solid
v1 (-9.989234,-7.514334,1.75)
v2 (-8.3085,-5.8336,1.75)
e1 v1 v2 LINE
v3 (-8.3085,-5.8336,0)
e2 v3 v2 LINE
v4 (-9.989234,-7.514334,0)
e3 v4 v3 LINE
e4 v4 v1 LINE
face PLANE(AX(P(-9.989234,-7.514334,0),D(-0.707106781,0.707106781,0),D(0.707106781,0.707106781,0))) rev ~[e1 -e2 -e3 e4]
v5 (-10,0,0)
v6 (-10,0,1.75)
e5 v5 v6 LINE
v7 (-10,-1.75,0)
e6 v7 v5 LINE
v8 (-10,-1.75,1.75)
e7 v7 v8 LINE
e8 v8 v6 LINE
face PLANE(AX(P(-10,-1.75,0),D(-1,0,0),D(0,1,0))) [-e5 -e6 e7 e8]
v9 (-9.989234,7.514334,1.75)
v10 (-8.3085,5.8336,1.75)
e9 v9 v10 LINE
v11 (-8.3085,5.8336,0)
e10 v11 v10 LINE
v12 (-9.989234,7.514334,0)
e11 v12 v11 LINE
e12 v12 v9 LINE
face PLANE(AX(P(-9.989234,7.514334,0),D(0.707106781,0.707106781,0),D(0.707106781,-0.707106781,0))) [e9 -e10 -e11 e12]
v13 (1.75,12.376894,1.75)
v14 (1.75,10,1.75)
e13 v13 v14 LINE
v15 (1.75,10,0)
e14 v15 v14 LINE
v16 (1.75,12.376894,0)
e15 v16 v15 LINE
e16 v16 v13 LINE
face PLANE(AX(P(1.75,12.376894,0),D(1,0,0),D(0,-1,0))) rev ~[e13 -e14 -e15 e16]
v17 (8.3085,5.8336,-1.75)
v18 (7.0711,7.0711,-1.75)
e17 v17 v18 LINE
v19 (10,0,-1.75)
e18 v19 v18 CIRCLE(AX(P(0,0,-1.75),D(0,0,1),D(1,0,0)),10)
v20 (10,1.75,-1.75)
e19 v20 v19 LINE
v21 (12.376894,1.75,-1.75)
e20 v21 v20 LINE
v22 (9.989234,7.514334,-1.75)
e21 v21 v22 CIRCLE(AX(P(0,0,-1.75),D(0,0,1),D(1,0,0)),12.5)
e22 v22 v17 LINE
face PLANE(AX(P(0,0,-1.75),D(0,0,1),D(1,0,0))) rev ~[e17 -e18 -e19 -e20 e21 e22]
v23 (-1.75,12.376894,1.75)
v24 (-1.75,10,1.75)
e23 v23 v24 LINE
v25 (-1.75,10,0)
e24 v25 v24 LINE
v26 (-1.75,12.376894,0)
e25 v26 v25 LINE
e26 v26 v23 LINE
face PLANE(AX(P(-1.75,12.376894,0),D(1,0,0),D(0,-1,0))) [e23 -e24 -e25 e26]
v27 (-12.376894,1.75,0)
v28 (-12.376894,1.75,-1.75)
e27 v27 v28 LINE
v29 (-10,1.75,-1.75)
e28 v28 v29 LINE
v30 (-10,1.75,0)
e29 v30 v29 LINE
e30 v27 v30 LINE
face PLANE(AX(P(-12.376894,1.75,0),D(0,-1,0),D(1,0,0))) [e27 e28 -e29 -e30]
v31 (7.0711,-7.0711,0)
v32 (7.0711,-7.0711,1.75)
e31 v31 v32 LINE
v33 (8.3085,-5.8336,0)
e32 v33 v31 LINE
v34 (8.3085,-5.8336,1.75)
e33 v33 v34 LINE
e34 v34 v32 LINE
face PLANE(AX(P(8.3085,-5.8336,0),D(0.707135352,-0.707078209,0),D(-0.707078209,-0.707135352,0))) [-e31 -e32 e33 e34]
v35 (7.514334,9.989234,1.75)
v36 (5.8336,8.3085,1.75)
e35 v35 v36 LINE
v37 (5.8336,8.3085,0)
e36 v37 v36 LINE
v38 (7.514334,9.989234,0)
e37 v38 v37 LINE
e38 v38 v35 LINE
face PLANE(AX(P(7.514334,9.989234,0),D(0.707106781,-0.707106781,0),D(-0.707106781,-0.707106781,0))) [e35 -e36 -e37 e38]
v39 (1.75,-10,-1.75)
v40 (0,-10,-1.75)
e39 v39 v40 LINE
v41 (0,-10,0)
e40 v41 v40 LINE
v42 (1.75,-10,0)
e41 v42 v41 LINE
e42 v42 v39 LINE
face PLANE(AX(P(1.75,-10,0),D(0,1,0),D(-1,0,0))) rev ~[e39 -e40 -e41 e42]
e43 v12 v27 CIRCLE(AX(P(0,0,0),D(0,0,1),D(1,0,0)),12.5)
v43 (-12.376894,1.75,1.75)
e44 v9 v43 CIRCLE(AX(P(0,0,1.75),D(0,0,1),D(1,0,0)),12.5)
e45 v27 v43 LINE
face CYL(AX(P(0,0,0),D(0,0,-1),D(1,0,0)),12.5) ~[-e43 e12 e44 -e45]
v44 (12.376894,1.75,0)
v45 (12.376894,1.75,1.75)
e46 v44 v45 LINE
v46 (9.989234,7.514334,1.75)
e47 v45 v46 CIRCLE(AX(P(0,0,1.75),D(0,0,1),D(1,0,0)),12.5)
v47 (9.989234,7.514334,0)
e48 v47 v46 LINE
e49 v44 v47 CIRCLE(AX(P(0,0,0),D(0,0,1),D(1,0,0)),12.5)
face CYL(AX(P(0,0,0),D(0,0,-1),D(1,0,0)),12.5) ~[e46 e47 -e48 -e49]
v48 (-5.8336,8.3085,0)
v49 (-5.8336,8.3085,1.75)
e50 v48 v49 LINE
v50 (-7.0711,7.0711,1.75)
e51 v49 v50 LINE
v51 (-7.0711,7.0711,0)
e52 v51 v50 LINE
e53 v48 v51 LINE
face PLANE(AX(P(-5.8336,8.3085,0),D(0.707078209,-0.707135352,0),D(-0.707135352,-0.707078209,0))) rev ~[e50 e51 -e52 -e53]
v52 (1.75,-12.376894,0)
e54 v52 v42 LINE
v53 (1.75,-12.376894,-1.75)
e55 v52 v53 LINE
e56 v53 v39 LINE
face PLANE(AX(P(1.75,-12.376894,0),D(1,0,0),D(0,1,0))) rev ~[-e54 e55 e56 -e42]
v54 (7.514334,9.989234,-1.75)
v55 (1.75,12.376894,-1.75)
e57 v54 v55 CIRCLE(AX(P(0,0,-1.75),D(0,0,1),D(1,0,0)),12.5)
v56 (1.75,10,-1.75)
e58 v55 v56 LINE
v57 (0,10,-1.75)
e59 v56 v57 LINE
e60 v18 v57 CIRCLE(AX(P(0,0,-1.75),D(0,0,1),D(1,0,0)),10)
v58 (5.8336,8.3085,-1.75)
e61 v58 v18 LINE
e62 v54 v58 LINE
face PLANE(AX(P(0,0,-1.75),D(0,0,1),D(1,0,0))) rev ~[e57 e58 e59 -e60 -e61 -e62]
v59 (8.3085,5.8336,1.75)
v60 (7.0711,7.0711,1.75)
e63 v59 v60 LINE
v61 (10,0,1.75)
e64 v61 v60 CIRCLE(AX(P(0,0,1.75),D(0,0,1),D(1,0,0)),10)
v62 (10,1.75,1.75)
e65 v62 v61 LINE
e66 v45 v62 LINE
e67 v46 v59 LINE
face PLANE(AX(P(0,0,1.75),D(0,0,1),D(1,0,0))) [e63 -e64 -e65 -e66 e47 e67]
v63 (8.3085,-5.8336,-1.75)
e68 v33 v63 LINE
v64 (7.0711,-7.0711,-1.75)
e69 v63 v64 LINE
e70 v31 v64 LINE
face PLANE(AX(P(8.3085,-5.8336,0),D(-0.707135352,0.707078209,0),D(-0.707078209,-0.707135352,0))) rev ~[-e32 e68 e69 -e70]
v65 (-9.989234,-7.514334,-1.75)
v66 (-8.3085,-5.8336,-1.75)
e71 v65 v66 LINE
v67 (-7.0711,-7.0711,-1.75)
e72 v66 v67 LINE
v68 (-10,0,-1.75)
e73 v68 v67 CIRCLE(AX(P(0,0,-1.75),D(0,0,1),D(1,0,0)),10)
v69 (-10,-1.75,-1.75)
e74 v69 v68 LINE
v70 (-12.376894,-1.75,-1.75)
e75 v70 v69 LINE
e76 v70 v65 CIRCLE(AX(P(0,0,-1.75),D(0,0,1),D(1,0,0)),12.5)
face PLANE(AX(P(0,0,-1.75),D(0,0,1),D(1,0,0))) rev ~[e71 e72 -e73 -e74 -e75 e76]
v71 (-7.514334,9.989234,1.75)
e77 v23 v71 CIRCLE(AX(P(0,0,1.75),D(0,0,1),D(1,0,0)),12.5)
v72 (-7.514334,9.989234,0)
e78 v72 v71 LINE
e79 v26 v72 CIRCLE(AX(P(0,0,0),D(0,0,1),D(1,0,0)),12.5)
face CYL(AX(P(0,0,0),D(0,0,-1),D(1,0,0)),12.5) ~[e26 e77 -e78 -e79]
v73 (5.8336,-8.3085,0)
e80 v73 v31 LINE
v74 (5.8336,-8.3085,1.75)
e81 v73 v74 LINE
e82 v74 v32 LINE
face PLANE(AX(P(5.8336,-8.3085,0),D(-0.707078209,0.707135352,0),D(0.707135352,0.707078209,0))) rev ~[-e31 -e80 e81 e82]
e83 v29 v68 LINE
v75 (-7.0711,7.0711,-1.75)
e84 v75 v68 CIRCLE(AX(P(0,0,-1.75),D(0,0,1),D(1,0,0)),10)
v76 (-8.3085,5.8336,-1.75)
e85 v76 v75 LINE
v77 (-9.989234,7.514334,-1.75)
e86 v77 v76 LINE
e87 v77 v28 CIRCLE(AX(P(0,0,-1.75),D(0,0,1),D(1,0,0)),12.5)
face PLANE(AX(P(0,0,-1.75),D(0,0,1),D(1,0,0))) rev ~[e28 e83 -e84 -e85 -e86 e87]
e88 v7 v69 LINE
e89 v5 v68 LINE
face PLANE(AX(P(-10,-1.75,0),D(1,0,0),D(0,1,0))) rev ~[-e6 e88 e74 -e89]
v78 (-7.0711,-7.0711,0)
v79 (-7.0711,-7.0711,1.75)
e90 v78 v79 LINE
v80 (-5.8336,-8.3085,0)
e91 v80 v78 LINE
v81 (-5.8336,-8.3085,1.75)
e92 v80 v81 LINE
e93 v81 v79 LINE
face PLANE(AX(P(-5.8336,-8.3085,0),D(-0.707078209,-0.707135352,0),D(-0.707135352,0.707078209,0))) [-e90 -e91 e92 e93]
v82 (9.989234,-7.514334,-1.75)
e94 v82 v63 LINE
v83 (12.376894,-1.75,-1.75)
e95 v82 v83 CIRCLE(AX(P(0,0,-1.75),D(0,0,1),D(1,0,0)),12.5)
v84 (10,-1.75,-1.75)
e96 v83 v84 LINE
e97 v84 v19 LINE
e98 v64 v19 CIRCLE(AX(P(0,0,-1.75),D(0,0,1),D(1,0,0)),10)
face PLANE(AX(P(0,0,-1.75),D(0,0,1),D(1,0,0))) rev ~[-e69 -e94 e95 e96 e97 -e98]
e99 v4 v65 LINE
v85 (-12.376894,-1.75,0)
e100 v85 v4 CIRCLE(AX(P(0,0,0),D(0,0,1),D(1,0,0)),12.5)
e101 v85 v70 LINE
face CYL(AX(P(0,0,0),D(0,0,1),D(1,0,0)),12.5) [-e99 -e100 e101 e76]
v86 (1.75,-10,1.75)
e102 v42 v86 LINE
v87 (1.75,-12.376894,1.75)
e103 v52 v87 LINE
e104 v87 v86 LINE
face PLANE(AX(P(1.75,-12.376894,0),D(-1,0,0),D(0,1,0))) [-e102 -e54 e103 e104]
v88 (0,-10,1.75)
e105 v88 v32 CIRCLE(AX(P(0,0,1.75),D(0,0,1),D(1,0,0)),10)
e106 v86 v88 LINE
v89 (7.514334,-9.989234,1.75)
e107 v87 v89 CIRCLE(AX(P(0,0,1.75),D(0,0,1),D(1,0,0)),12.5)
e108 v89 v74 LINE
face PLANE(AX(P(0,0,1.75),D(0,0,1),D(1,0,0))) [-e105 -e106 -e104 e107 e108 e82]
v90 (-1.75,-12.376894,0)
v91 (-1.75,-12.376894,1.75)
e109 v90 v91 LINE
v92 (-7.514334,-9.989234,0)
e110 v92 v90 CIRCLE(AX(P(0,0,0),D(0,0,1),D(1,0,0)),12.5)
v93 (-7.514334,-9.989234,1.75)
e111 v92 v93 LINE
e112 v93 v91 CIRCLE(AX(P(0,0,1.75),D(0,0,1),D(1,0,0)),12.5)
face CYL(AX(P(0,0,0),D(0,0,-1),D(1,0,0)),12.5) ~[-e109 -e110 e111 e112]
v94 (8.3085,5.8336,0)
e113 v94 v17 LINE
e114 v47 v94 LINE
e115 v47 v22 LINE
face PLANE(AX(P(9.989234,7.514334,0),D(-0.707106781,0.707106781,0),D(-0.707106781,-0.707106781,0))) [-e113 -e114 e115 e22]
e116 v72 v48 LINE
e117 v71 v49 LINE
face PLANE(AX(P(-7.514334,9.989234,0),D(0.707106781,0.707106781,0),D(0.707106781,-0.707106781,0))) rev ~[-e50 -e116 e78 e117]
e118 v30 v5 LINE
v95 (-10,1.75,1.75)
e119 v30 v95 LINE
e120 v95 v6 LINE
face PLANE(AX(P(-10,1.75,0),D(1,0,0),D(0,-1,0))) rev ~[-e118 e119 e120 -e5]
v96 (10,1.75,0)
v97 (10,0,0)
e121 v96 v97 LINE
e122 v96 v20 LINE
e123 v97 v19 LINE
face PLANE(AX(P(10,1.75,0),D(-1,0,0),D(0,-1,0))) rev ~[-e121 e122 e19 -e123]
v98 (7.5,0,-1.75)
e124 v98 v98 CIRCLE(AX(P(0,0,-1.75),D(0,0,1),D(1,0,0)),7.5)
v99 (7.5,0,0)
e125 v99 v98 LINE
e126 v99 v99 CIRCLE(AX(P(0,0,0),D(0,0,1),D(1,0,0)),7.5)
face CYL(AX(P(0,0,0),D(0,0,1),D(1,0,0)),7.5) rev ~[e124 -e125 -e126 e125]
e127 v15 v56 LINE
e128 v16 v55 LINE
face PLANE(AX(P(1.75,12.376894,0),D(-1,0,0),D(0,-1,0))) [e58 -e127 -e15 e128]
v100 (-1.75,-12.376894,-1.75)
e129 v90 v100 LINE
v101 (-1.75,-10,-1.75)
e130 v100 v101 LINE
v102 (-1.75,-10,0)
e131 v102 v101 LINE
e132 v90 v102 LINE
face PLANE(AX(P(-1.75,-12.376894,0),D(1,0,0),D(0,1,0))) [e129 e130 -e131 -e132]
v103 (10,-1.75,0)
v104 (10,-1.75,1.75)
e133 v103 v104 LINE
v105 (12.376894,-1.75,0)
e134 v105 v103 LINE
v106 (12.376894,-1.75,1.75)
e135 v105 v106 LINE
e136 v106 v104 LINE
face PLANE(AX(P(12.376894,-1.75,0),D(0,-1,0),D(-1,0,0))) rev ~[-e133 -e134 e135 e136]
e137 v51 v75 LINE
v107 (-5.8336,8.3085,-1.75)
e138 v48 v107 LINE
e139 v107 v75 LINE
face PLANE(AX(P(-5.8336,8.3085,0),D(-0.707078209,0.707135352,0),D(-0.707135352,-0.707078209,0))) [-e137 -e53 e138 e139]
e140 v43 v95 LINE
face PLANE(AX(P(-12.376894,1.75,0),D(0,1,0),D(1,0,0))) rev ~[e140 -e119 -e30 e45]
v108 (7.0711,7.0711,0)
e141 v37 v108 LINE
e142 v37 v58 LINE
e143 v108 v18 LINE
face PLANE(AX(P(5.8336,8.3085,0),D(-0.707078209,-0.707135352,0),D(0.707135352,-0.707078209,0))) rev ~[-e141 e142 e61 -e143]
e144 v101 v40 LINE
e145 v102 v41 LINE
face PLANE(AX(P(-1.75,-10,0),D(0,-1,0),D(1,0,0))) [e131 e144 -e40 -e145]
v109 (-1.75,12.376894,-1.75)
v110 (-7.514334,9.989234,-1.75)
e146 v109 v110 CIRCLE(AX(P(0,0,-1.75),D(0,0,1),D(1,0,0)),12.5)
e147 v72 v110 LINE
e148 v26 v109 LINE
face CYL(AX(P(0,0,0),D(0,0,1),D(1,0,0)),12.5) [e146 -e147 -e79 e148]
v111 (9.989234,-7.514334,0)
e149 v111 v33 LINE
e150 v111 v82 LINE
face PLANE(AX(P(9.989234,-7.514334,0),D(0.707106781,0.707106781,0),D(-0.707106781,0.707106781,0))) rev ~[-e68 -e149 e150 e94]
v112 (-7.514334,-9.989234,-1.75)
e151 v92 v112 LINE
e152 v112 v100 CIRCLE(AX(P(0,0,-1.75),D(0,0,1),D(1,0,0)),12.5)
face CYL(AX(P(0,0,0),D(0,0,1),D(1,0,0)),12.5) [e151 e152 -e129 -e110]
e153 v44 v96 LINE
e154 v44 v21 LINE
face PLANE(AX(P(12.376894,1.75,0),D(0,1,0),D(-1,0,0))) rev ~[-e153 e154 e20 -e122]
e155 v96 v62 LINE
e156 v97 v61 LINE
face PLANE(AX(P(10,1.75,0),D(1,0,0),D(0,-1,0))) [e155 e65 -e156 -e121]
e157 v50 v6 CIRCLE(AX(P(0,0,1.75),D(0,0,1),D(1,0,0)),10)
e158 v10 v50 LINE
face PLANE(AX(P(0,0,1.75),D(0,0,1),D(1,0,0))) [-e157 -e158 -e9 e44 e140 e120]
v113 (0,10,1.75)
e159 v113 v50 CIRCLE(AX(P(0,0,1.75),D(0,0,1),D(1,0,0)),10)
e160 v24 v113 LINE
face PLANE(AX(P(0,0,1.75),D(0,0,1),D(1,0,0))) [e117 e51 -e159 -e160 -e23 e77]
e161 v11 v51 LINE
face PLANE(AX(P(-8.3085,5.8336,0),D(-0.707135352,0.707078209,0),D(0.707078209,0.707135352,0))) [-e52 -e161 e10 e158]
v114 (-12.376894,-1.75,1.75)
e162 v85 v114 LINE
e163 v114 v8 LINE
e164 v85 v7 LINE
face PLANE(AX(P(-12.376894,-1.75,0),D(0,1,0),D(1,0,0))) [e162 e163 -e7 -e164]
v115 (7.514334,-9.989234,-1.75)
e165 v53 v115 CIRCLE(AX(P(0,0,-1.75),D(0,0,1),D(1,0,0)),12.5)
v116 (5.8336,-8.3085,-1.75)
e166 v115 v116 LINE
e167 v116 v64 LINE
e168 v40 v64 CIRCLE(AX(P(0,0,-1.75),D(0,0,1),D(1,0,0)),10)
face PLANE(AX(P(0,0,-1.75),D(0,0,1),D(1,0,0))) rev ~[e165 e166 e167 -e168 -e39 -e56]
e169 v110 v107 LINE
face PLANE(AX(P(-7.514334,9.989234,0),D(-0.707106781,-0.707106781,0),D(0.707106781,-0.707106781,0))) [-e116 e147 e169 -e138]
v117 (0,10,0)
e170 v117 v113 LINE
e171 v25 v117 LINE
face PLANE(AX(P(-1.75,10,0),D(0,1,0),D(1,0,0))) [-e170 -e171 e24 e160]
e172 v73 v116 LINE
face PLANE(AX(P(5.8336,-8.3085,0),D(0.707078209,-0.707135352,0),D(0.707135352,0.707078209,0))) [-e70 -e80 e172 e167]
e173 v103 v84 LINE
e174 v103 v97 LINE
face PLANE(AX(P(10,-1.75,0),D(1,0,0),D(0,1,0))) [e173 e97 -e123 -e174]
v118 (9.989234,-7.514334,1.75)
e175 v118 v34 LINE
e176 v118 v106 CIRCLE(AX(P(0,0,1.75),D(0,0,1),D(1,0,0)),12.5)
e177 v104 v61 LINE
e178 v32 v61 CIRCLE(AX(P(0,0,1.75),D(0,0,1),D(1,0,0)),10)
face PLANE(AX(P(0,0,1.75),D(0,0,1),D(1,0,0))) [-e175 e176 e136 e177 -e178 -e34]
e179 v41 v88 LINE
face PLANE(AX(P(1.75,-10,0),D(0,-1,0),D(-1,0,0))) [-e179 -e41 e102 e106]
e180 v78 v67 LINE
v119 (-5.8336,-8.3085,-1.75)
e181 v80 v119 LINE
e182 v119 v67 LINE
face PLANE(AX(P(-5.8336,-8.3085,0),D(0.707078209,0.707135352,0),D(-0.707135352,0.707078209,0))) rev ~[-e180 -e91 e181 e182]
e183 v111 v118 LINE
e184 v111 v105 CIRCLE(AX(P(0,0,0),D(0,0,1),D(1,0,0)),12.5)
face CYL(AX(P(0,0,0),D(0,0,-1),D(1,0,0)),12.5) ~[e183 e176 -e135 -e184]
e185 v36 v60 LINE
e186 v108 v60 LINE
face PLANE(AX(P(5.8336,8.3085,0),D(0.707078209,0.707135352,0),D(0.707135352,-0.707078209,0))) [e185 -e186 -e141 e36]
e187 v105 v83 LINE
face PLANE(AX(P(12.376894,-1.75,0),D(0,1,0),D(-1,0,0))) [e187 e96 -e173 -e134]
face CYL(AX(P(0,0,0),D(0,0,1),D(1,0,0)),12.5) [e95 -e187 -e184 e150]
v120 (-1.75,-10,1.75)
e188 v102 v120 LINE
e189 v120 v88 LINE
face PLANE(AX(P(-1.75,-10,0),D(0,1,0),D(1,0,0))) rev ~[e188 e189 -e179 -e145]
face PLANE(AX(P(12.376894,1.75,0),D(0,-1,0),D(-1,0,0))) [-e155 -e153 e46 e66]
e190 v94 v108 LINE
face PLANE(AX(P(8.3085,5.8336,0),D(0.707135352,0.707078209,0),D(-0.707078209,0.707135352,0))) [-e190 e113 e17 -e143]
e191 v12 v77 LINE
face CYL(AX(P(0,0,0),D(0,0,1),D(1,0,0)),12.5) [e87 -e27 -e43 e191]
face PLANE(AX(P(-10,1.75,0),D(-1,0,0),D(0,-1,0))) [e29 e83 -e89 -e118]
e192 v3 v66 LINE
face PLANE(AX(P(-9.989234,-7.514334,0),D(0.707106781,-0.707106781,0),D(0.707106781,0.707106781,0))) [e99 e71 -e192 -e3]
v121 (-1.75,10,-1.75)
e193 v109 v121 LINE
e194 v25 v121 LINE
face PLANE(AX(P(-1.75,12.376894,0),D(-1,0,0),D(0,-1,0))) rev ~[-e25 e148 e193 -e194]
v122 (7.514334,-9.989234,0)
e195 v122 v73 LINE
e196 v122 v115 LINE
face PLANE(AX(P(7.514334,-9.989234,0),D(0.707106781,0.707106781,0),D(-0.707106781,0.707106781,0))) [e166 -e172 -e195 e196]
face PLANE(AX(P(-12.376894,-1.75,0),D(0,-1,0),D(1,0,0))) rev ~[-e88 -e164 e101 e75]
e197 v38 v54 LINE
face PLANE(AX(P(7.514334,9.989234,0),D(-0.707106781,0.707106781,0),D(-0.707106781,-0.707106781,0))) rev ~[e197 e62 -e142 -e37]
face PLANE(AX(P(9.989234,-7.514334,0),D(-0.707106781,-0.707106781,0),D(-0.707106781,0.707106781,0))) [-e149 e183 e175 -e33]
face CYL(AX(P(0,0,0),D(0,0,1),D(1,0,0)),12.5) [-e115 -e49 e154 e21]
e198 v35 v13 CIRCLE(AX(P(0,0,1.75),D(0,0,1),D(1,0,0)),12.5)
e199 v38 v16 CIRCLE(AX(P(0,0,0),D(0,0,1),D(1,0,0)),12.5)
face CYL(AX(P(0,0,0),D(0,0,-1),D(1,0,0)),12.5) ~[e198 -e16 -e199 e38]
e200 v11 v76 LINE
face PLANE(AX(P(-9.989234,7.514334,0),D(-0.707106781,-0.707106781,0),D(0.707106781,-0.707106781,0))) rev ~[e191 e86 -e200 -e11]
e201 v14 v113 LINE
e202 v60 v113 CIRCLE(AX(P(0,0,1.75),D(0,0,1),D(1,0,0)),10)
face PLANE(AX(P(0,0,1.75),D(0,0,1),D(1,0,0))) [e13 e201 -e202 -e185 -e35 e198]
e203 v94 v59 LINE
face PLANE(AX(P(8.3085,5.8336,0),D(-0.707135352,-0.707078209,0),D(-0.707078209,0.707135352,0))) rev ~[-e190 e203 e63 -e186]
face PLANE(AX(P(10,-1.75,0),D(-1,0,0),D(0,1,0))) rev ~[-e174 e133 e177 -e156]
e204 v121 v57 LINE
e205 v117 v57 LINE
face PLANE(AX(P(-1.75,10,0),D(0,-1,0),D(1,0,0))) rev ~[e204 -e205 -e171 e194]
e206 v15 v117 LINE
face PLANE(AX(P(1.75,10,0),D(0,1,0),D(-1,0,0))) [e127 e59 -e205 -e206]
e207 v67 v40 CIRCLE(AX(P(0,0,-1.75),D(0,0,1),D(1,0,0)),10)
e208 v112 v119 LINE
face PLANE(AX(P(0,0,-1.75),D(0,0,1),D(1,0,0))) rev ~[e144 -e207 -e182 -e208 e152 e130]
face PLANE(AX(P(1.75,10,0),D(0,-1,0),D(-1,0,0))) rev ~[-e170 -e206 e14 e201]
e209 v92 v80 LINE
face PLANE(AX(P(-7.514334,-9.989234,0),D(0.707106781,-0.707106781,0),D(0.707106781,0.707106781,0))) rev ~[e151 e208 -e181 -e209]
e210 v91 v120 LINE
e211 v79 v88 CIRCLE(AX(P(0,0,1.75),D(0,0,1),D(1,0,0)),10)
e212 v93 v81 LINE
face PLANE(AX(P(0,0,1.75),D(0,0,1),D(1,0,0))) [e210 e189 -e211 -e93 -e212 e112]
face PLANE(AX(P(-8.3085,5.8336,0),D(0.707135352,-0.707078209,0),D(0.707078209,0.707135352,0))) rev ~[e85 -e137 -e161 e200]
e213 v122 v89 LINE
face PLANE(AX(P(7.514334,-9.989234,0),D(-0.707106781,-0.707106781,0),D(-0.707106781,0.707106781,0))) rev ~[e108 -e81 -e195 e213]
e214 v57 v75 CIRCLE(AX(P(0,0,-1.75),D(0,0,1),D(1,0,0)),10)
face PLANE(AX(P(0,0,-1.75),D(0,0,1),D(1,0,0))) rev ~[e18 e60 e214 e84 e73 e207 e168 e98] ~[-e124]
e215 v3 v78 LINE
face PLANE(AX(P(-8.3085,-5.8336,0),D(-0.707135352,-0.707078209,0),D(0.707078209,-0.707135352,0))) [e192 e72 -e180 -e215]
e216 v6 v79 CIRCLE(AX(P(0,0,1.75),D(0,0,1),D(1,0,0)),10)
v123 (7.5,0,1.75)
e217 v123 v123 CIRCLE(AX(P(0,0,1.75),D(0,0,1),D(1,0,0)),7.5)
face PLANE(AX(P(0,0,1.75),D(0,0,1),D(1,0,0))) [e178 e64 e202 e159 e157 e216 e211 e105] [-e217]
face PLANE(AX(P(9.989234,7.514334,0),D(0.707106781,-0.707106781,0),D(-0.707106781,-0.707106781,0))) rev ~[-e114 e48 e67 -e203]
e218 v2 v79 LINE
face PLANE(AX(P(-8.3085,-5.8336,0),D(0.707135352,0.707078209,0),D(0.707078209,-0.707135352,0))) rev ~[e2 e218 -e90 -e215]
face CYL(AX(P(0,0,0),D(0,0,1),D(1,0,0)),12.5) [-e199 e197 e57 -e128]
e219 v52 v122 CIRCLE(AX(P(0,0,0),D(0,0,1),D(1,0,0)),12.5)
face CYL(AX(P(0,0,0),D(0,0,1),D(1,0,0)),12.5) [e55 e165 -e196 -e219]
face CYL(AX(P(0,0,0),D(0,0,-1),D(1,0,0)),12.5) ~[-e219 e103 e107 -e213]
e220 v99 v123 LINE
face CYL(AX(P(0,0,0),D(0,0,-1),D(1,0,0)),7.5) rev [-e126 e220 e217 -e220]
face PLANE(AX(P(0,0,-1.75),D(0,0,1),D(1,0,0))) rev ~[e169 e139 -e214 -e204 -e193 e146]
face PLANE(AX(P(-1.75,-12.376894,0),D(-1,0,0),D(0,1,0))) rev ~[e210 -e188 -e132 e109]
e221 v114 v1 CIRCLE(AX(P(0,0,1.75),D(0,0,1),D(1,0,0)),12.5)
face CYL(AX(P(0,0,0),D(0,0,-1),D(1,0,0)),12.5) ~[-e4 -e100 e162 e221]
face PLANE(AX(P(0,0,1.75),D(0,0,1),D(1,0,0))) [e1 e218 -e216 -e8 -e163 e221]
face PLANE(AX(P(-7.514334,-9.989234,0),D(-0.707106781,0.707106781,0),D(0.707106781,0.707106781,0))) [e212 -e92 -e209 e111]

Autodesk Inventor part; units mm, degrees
ref_plane "YZ Plane" through (0, 0, 0) normal (1, 0, 0) x (0, 1, 0)
ref_plane "XZ Plane" through (0, 0, 0) normal (0, 1, 0) x (-1, 0, 0)
ref_plane "XY Plane" through (0, 0, 0) normal (0, 0, 1) x (1, 0, 0)
sketch "Sketch1" plane through (0, 0, 0) normal (0, 0, 1) x (1, 0, 0)
  circle A0 centre (0, 0) radius 10
  circle A1 centre (0, 0) radius 12.5
  circle A2 centre (0, 0) radius 7.5
  line L0 (10, 0) -> (12.5, 0)
  line L1 (12.5, 0) -> (12.5, 1.75)
  line L2 (12.5, 1.75) -> (10, 1.75)
  line L3 (10, 1.75) -> (10, 0)
  line L4 (12.5, 0) -> (12.5, -1.75)
  line L5 (12.5, -1.75) -> (10, -1.75)
  line L6 (10, -1.75) -> (10, 0)
  line L7 (10.0763, 7.6014) -> (8.3085, 5.8336)
  line L8 (8.3085, 5.8336) -> (7.0711, 7.0711)
  line L9 (5.8336, 8.3085) -> (7.0711, 7.0711)
  line L10 (7.6014, 10.0763) -> (5.8336, 8.3085)
  line L11 (8.8388, 8.8388) -> (7.6014, 10.0763)
  line L12 (8.8388, 8.8388) -> (10.0763, 7.6014)
  line L13 (1.75, 12.5) -> (1.75, 10)
  line L14 (1.75, 10) -> (0, 10)
  line L15 (-1.75, 10) -> (0, 10)
  line L16 (-1.75, 12.5) -> (-1.75, 10)
  line L17 (0, 12.5) -> (-1.75, 12.5)
  line L18 (0, 12.5) -> (1.75, 12.5)
  line L19 (-7.6014, 10.0763) -> (-5.8336, 8.3085)
  line L20 (-5.8336, 8.3085) -> (-7.0711, 7.0711)
  line L21 (-8.3085, 5.8336) -> (-7.0711, 7.0711)
  line L22 (-10.0763, 7.6014) -> (-8.3085, 5.8336)
  line L23 (-8.8388, 8.8388) -> (-10.0763, 7.6014)
  line L24 (-8.8388, 8.8388) -> (-7.6014, 10.0763)
  line L25 (-12.5, 1.75) -> (-10, 1.75)
  line L26 (-10, 1.75) -> (-10, 0)
  line L27 (-10, -1.75) -> (-10, 0)
  line L28 (-12.5, -1.75) -> (-10, -1.75)
  line L29 (-12.5, 0) -> (-12.5, -1.75)
  line L30 (-12.5, 0) -> (-12.5, 1.75)
  line L31 (-10.0763, -7.6014) -> (-8.3085, -5.8336)
  line L32 (-8.3085, -5.8336) -> (-7.0711, -7.0711)
  line L33 (-5.8336, -8.3085) -> (-7.0711, -7.0711)
  line L34 (-7.6014, -10.0763) -> (-5.8336, -8.3085)
  line L35 (-8.8388, -8.8388) -> (-7.6014, -10.0763)
  line L36 (-8.8388, -8.8388) -> (-10.0763, -7.6014)
  line L37 (-1.75, -12.5) -> (-1.75, -10)
  line L38 (-1.75, -10) -> (0, -10)
  line L39 (1.75, -10) -> (0, -10)
  line L40 (1.75, -12.5) -> (1.75, -10)
  line L41 (0, -12.5) -> (1.75, -12.5)
  line L42 (0, -12.5) -> (-1.75, -12.5)
  line L43 (7.6014, -10.0763) -> (5.8336, -8.3085)
  line L44 (5.8336, -8.3085) -> (7.0711, -7.0711)
  line L45 (8.3085, -5.8336) -> (7.0711, -7.0711)
  line L46 (10.0763, -7.6014) -> (8.3085, -5.8336)
  line L47 (8.8388, -8.8388) -> (10.0763, -7.6014)
  line L48 (8.8388, -8.8388) -> (7.6014, -10.0763)
  point P0 (-1.75, 12.3769)
  point P1 (-7.5143, 9.9892)
  point P2 (-9.9892, 7.5143)
  point P3 (-12.3769, 1.75)
  point P4 (-12.3769, -1.75)
  point P5 (-9.9892, -7.5143)
  point P6 (-7.5143, -9.9892)
  point P7 (-1.75, -12.3769)
  point P8 (1.75, -12.3769)
  point P9 (7.5143, -9.9892)
  point P10 (9.9892, -7.5143)
  point P11 (12.3769, -1.75)
  point P12 (12.3769, 1.75)
  point P13 (9.9892, 7.5143)
  point P14 (7.5143, 9.9892)
  point P15 (1.75, 12.3769)
  dimension "d10" = 20
  dimension "d11" = 2.5
  dimension "d12" = 2.5
  dimension "d13" = 1.75
  dimension "d16" = 360
extrude "Extrusion1" add sketch "Sketch1" along normal mid plane 3.5 contours A0 | L6 L5 A1 L46 L45 A0 | A0 L8 L7 A1 L2 L3 | A0 L14 L13 A1 L10 L9 | L44 L43 A1 L40 L39 A0 | A0 L20 L19 A1 L16 L15 | L38 L37 A1 L34 L33 A0 | A0 L26 L25 A1 L22 L21 | L32 L31 A1 L28 L27 A0
properties part number "Vrhnji obrok"
